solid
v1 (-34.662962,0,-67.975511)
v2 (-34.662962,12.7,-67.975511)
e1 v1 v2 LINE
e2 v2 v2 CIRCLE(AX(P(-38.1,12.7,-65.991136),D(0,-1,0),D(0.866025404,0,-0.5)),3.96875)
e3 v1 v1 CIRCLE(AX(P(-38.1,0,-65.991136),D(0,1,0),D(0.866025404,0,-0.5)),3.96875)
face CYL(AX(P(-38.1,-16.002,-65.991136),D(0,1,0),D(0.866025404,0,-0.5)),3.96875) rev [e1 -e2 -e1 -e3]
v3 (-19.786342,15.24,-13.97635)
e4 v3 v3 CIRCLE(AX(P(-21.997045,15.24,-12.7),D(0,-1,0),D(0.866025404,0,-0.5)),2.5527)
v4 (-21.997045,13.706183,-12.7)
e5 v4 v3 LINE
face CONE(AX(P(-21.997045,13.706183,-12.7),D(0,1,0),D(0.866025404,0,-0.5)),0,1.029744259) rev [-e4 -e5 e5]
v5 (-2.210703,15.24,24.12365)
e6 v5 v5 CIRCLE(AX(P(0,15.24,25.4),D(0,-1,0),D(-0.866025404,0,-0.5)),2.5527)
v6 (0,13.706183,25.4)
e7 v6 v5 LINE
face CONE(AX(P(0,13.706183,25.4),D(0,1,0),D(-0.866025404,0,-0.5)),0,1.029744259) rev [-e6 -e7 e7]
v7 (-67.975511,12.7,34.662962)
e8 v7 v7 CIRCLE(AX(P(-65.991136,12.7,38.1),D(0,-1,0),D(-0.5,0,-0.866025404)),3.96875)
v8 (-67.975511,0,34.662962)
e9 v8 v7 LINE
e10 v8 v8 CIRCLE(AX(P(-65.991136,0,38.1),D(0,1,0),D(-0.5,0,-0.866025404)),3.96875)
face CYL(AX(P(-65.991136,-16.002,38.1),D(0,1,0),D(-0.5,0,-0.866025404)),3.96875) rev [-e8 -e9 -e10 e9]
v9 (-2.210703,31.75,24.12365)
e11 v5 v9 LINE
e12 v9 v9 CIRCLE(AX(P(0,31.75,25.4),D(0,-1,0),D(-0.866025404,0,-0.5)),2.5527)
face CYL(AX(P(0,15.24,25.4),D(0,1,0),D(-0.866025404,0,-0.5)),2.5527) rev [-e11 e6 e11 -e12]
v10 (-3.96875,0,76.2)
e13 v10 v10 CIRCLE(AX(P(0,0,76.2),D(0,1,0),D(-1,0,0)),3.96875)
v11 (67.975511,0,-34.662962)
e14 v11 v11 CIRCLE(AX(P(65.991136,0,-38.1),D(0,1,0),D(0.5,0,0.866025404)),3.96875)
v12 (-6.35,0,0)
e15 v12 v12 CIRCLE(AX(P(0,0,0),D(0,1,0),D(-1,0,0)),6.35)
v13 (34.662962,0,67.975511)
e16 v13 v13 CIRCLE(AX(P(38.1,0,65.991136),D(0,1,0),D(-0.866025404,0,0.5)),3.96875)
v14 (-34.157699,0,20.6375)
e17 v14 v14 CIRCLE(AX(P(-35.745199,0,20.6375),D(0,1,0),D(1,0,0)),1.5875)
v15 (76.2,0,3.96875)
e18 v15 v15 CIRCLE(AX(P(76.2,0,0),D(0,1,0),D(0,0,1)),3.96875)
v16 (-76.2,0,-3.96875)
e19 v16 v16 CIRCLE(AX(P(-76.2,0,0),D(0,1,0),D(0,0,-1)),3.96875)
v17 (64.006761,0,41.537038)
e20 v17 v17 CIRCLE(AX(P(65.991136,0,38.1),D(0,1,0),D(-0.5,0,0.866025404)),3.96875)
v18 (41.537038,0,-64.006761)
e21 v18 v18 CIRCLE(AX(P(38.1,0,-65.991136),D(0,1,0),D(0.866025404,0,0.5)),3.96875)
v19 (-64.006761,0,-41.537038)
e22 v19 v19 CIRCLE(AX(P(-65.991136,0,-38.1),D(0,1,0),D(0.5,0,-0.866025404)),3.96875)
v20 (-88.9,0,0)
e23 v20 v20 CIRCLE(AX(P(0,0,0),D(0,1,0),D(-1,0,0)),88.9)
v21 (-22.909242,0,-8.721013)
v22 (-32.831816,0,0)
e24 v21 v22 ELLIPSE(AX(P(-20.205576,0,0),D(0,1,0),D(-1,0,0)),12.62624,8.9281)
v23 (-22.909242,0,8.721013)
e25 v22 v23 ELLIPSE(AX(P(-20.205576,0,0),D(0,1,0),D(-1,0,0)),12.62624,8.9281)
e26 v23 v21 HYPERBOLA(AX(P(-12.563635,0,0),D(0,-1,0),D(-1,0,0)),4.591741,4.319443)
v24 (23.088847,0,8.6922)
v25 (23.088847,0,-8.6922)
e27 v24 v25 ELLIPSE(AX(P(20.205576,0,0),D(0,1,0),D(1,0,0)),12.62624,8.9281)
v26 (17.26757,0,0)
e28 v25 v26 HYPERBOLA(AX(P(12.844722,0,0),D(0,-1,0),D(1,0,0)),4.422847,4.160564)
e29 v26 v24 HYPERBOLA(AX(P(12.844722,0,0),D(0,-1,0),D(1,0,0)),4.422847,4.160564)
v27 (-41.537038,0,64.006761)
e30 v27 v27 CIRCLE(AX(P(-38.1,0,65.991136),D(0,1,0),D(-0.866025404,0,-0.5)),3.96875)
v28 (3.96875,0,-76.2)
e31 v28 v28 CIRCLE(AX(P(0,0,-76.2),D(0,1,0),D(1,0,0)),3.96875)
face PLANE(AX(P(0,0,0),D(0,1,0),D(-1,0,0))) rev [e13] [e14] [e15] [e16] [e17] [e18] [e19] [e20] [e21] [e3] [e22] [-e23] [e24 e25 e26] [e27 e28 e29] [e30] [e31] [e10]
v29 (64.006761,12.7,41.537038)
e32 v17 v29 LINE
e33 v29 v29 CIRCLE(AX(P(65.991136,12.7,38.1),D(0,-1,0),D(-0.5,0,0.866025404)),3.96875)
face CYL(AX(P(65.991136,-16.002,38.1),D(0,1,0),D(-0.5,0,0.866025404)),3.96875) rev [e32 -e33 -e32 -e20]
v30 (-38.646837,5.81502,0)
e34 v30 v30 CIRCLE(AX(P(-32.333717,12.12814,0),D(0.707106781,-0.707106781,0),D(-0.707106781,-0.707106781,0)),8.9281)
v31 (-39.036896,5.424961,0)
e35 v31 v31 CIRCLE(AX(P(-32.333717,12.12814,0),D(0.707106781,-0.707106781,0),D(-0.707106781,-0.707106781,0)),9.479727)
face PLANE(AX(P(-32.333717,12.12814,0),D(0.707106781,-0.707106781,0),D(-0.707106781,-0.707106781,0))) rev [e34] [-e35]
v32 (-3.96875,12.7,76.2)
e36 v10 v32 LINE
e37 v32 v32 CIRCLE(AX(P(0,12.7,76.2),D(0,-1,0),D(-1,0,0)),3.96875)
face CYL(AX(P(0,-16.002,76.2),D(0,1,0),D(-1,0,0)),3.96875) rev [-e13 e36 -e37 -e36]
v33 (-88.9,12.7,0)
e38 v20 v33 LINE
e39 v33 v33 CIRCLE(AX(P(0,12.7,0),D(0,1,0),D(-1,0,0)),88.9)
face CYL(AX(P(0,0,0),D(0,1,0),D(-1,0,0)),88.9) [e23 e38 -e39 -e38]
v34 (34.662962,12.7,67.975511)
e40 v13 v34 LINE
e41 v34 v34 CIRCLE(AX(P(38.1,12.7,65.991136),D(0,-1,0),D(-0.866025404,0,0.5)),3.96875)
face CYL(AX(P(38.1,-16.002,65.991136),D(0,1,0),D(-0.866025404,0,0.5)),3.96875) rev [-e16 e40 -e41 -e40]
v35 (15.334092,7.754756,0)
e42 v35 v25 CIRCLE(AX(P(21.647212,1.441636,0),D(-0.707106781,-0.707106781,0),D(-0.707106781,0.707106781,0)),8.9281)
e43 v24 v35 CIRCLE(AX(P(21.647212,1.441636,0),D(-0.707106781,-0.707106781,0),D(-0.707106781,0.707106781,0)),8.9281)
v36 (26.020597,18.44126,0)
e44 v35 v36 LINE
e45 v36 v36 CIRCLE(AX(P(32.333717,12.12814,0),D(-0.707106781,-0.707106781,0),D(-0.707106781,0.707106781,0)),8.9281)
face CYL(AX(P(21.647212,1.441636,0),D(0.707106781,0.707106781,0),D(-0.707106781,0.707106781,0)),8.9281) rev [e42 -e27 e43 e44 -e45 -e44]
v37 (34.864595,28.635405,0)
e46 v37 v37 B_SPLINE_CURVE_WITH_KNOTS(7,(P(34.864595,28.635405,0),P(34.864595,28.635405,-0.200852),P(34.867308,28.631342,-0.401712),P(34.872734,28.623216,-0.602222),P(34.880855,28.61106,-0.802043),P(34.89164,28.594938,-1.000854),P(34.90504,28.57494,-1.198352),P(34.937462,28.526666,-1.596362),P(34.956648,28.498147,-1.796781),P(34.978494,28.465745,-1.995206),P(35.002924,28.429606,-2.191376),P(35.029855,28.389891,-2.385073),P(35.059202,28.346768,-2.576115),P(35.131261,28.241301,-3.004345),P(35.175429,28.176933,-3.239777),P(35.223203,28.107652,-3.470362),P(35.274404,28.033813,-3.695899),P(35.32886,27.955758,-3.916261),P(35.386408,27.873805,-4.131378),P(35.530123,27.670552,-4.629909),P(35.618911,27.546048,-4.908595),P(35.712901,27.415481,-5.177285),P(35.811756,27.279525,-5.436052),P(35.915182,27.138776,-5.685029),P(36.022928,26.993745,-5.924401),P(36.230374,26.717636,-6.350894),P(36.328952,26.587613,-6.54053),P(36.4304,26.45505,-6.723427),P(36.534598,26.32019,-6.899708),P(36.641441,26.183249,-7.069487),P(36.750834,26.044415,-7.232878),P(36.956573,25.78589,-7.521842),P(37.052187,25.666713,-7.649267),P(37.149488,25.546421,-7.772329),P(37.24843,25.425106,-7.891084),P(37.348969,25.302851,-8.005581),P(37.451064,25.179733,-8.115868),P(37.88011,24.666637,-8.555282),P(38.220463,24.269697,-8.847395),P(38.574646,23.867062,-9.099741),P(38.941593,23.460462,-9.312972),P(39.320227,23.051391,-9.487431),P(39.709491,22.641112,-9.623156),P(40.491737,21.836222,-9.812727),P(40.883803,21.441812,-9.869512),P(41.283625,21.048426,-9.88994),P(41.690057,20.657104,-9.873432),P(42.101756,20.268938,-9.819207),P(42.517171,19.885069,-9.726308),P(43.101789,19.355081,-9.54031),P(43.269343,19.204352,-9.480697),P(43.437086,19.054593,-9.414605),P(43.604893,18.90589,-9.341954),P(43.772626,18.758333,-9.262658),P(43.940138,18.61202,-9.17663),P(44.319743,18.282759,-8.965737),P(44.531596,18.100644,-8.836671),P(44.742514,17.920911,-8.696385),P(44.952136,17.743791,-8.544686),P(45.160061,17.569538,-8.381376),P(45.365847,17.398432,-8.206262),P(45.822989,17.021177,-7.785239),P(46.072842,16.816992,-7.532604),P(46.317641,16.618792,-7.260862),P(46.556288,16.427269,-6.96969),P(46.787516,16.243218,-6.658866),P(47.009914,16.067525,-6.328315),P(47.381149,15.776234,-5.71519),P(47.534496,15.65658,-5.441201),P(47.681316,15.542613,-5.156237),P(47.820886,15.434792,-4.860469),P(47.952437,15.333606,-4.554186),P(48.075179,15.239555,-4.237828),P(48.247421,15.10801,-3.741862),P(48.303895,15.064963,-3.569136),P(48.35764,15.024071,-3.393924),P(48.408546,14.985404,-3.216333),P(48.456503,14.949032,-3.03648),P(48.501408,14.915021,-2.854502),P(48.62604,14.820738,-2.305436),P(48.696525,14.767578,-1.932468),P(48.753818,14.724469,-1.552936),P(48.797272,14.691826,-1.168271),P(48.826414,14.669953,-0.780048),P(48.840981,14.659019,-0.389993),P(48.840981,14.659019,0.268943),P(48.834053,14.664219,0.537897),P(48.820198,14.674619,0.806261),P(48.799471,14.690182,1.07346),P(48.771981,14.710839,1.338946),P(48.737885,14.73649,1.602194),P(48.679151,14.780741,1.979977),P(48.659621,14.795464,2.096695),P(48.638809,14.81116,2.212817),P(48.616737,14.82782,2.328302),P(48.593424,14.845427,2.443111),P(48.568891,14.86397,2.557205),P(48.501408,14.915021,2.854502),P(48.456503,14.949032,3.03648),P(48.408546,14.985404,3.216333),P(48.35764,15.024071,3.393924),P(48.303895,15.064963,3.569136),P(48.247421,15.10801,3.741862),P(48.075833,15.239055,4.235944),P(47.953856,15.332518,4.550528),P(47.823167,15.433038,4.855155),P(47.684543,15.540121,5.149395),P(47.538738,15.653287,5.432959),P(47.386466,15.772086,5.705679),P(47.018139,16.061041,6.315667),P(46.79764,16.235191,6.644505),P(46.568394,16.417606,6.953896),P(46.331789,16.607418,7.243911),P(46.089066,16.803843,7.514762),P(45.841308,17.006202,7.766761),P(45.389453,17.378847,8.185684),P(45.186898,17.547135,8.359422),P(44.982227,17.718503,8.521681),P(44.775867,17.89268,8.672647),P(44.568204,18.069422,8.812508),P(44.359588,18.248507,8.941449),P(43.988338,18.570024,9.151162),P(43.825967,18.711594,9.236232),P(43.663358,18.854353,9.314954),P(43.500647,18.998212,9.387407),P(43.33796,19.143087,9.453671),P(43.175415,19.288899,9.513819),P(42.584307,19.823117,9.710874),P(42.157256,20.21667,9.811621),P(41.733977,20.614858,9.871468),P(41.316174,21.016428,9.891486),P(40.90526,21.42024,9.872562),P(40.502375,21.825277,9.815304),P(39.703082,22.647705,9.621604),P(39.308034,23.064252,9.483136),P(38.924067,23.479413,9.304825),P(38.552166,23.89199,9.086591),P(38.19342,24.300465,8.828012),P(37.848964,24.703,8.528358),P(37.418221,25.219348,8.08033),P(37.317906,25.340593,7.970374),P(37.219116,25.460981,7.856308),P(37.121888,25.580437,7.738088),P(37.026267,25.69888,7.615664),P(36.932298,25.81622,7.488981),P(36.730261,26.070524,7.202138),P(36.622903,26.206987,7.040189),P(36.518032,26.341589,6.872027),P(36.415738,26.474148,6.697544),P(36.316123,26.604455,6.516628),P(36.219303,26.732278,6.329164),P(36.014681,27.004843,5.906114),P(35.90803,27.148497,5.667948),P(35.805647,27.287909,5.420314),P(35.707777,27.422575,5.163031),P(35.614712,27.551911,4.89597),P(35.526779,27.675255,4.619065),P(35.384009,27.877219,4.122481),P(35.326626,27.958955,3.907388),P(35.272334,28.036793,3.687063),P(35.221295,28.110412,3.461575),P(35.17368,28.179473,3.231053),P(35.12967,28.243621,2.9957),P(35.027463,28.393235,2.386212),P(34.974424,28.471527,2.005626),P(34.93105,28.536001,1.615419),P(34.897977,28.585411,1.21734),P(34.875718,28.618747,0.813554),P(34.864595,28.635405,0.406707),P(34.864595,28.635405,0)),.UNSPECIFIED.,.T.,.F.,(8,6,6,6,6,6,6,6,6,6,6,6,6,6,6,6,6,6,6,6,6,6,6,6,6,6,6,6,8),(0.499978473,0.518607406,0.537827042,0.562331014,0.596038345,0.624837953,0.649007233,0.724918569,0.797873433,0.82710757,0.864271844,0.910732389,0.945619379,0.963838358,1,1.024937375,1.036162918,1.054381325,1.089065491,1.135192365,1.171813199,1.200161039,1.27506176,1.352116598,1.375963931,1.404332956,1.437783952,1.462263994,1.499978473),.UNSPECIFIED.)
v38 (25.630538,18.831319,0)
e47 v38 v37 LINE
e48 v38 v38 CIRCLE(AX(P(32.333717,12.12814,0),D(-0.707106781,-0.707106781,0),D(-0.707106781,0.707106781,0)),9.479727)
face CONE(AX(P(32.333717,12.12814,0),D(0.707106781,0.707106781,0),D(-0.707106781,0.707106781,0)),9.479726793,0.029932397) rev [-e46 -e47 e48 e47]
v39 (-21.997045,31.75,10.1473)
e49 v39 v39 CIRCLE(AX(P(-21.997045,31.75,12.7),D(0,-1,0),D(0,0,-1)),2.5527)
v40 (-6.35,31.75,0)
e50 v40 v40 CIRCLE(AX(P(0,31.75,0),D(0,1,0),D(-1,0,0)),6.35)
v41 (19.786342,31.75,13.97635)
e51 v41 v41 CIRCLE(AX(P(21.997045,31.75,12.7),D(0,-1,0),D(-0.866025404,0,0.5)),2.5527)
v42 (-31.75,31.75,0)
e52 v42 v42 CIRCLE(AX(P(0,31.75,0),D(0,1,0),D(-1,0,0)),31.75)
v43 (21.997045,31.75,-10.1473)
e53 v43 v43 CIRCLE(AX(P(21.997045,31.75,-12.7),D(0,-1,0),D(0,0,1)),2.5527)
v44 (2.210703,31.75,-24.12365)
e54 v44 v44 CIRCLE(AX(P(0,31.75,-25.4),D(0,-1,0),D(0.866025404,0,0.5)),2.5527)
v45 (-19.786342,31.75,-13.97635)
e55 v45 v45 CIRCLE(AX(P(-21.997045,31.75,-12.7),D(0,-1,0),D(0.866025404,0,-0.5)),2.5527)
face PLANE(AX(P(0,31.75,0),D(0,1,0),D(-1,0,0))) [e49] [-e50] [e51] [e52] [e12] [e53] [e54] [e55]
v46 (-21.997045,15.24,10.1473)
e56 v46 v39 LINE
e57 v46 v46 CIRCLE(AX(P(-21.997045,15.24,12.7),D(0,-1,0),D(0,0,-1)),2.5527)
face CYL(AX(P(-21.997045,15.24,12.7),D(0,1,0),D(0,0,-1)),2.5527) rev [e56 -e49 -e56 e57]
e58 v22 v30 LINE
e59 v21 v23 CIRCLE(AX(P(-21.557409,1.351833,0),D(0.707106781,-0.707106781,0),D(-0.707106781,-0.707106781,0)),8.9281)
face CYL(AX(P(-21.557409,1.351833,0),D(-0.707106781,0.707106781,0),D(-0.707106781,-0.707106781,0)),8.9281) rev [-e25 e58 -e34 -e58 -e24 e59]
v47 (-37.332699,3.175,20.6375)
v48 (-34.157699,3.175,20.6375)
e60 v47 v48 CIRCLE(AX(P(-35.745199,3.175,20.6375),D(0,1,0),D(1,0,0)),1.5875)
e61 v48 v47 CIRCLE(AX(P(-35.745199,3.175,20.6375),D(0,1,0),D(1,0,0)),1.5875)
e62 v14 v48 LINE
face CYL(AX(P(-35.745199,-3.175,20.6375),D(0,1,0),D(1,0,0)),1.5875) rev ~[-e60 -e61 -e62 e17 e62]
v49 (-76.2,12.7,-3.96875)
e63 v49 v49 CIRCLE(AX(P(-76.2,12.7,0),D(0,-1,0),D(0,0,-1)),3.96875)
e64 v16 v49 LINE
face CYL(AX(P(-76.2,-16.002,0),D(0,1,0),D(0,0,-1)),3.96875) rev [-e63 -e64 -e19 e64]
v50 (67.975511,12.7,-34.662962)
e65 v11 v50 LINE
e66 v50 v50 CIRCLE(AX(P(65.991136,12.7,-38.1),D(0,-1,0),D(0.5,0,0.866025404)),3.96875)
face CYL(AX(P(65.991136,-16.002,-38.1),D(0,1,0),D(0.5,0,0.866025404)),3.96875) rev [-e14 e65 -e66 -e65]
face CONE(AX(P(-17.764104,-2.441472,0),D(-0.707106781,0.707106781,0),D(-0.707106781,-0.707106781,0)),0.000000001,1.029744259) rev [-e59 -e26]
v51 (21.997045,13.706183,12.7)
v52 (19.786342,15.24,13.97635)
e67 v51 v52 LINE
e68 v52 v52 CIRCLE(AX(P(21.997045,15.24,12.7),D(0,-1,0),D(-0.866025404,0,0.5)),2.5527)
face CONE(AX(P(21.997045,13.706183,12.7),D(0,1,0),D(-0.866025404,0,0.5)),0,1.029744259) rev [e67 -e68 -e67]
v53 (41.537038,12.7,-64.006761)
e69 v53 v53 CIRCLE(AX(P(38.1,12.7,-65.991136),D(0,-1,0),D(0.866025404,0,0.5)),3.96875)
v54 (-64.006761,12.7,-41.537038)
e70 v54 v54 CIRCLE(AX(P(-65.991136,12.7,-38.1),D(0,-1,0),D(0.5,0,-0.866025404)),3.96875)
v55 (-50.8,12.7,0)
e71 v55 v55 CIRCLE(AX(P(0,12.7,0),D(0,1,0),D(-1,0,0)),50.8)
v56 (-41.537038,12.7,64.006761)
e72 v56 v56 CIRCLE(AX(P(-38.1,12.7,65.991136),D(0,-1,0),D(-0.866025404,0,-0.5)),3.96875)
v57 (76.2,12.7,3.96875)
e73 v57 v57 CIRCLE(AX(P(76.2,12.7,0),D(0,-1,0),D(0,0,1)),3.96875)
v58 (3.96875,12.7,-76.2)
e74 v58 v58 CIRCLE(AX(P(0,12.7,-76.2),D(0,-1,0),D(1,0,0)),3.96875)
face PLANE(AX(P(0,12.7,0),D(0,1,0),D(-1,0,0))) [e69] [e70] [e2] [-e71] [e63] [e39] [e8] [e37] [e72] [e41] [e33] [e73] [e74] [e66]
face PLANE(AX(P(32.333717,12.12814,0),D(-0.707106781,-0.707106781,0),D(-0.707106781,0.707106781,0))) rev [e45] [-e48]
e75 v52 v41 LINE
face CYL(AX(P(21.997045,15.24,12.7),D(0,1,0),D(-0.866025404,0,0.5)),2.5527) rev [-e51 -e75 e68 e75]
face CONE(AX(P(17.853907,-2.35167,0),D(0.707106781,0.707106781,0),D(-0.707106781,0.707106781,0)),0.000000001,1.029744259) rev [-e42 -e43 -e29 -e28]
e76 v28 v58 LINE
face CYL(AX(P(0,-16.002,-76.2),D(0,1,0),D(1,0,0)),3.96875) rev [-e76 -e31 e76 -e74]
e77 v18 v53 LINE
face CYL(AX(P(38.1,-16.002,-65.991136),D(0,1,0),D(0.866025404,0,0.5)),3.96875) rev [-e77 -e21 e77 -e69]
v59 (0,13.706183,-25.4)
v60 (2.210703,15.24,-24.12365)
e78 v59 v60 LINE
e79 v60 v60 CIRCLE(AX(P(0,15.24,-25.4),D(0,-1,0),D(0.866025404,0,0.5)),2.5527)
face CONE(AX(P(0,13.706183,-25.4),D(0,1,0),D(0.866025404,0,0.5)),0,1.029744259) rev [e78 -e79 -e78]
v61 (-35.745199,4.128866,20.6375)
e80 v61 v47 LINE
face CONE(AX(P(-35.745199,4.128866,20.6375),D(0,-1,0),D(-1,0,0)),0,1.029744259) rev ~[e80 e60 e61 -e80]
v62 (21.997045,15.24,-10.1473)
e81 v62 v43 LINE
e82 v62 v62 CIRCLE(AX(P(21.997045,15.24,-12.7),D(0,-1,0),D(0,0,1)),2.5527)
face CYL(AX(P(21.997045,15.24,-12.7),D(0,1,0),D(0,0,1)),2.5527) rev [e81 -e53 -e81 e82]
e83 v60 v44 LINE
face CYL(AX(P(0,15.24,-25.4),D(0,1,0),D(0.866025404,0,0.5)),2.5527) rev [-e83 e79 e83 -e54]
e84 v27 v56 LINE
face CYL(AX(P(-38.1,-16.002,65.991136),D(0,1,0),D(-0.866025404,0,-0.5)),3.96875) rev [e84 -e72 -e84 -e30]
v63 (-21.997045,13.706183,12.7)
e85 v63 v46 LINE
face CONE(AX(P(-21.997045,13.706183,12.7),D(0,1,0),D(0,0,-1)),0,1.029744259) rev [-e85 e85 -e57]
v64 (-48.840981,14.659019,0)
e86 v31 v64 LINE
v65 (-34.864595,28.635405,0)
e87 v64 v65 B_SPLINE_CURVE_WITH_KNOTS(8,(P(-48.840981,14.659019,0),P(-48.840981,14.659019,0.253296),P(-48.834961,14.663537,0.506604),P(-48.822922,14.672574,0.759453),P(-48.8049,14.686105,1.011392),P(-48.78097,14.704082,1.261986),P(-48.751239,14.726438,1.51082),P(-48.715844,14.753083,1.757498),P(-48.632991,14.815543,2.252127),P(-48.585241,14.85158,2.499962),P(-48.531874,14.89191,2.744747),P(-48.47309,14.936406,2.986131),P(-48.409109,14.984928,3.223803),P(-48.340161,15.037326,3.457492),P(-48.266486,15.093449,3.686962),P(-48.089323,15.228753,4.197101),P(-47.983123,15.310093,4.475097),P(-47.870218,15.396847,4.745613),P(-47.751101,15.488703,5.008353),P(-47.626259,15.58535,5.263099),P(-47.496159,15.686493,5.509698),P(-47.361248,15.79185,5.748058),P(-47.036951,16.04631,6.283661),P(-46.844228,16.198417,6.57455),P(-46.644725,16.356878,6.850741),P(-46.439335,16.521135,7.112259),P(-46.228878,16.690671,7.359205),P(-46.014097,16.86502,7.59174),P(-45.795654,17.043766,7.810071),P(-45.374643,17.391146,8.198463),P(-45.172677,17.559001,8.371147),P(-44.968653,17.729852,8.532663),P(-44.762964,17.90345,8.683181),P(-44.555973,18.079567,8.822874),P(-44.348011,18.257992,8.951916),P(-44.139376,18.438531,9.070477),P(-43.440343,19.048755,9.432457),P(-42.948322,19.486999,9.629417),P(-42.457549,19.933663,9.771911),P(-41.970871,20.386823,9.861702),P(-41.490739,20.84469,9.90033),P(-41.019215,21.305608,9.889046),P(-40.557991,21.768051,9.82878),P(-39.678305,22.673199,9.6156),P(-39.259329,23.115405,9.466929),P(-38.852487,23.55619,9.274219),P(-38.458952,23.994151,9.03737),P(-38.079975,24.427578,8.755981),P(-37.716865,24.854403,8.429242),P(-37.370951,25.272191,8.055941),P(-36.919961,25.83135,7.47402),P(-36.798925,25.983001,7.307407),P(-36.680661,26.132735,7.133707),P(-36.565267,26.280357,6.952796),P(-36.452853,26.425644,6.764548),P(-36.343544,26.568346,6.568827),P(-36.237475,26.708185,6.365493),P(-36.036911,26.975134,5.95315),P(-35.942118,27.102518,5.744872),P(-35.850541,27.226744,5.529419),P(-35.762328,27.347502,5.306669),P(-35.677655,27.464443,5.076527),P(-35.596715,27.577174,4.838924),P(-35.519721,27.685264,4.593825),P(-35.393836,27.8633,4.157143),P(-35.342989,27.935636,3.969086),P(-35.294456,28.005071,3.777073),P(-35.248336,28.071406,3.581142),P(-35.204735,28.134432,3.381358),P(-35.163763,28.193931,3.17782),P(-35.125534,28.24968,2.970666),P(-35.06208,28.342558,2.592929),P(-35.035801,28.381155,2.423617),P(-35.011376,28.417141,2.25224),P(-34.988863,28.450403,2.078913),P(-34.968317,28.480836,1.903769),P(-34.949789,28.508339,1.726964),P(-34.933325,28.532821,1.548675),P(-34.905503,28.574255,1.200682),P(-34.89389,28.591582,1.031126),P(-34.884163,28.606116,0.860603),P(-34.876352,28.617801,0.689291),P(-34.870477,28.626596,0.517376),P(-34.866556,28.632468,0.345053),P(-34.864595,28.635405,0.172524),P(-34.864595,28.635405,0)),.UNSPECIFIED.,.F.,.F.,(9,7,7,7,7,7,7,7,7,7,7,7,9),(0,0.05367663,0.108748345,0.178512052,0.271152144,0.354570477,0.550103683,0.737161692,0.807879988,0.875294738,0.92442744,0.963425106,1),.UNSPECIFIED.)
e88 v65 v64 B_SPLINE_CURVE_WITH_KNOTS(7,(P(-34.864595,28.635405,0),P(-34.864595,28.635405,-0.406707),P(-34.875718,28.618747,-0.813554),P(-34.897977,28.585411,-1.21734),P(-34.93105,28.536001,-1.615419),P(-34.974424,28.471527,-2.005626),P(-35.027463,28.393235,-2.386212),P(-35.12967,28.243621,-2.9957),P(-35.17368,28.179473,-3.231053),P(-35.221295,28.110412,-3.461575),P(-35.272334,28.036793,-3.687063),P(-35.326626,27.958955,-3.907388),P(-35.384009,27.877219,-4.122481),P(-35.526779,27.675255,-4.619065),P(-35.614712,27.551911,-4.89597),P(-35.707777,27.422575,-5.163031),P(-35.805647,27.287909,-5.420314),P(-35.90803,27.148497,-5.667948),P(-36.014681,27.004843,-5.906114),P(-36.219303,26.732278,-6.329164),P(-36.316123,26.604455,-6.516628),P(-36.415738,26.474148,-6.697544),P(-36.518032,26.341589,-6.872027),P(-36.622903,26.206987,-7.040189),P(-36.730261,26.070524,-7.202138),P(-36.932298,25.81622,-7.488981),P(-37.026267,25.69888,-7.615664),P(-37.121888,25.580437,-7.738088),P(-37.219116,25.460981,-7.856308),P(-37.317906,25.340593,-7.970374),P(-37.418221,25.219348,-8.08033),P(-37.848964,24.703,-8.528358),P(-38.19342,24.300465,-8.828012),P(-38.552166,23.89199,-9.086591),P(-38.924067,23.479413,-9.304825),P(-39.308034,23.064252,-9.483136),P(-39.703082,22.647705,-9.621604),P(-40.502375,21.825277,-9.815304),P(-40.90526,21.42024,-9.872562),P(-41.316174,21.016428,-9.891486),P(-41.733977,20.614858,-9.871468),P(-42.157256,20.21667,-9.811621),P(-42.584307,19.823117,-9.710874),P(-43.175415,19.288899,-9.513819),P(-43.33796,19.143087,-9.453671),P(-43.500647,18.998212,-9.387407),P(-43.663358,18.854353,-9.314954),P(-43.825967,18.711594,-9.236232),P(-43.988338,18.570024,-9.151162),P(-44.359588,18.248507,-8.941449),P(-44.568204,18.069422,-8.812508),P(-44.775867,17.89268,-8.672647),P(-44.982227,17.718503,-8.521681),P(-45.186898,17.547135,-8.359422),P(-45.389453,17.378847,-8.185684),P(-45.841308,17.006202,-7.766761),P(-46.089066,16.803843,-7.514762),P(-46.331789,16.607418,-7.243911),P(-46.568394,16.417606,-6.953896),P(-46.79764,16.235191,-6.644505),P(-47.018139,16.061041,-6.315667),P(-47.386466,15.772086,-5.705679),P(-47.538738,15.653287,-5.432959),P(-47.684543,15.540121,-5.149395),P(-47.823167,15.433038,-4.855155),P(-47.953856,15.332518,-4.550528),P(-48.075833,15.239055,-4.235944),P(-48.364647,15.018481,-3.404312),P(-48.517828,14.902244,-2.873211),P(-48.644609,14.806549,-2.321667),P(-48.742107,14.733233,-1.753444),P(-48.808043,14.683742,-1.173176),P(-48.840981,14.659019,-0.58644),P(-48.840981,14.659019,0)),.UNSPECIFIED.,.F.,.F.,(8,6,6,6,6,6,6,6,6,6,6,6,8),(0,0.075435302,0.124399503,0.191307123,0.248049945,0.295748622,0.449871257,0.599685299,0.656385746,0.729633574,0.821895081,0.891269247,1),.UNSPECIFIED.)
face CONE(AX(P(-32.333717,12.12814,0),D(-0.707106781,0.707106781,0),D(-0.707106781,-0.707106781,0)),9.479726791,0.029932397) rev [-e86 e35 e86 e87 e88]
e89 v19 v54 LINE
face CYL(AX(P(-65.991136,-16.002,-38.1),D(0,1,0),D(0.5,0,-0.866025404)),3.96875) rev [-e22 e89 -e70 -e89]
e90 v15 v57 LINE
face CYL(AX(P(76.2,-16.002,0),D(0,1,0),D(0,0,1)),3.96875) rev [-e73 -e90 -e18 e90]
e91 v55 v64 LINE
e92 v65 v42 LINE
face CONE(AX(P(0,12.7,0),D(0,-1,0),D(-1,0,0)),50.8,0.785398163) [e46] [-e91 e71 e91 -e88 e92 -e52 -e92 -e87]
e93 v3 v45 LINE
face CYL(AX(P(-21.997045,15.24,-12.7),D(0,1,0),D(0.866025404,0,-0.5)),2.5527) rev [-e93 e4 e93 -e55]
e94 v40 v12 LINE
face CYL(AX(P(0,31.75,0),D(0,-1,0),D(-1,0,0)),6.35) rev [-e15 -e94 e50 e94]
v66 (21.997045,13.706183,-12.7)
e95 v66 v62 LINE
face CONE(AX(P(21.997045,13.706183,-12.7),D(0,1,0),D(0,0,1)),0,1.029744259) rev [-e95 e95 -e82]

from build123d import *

# Parameters (mm, degrees)
CIRPATTERN1_COUNT                = 12
CIRPATTERN2_COUNT                = 6
F_1_8_0_125_DIAMETER_HOLE1_D     = 3.175
F_1_8_0_125_DIAMETER_HOLE1_DEPTH = 3.175
F_1_8_0_125_DIAMETER_HOLE1_TIP   = 0.953866233


with BuildPart() as part:
    # Sketch1 → Revolve1 (revolve)
    with BuildSketch(Plane.XY):
        Polygon((-6.35, 0), (-88.9, 0), (-88.9, 12.7), (-50.8, 12.7), (-31.75, 31.75), (-6.35, 31.75), align=None)
    revolve(axis=Axis((0, 0, 0), (0, 1, 0)))

    # Sketch3 → 5/16 (0.3125) Diameter Hole1 (revolve, cut)
    with BuildSketch(Plane(origin=(76.2, 12.7, 0), x_dir=(0, 0, 1), z_dir=(1, 0, 0))):
        Polygon((0, 0), (0, 31.086665582), (3.96875, 28.702), (3.96875, 0), align=None)
    f_5_16_0_3125_diameter_hole1 = revolve(axis=Axis((76.2, 19.05, 0), (0, -1, 0)), mode=Mode.SUBTRACT)

    # CirPattern1: 5/16 (0.3125) Diameter Hole1 ×12 about axis
    cirpattern1_axis = Axis((0, 0, 0), (0, 1, 0))
    for i in range(1, CIRPATTERN1_COUNT):
        add(f_5_16_0_3125_diameter_hole1.rotate(cirpattern1_axis, i * 360 / CIRPATTERN1_COUNT), mode=Mode.SUBTRACT)

    # Sketch5 → 1/2 NPT Tapped Hole1 (revolve, cut)
    with BuildSketch(Plane(origin=(41.852788136, 21.647211864, 0), x_dir=(-0.707106781, 0.707106781, 0), z_dir=(0, 0, 1))):
        Polygon((0, 0), (0, 33.939543693), (8.9281, 28.575), (8.9281, 13.462), (9.479726792, 13.462), (9.8827971, 0), align=None)
    revolve(axis=Axis((46.342916197, 26.137339924, 0), (-0.707106781, -0.707106781, 0)), mode=Mode.SUBTRACT)

    # Sketch7 → 1/2 NPT Tapped Hole2 (revolve, cut)
    with BuildSketch(Plane(origin=(-41.852788136, 21.647211864, 0), x_dir=(-0.707106781, -0.707106781, 0), z_dir=(0, 0, 1))):
        Polygon((0, 0), (0, 34.066543693), (8.9281, 28.702), (8.9281, 13.462), (9.479726792, 13.462), (9.8827971, 0), align=None)
    revolve(axis=Axis((-46.342916197, 26.137339924, 0), (0.707106781, -0.707106781, 0)), mode=Mode.SUBTRACT)

    # Sketch9 → 1/4-20 Tapped Hole1 (revolve, cut)
    with BuildSketch(Plane(origin=(21.997045256, 31.75, -12.7), x_dir=(0, 0, 1), z_dir=(1, 0, 0))):
        Polygon((0, 0), (0, 18.043816902), (2.5527, 16.51), (2.5527, 0), align=None)
    f_1_4_20_tapped_hole1 = revolve(axis=Axis((21.997045256, 38.1, -12.7), (0, -1, 0)), mode=Mode.SUBTRACT)

    # CirPattern2: 1/4-20 Tapped Hole1 ×6 about axis
    cirpattern2_axis = Axis((0, 0, 0), (0, 1, 0))
    for i in range(1, CIRPATTERN2_COUNT):
        add(f_1_4_20_tapped_hole1.rotate(cirpattern2_axis, i * 360 / CIRPATTERN2_COUNT), mode=Mode.SUBTRACT)

    # 1/8 (0.125) Diameter Hole1
    with Locations(Plane(origin=(0, 0, 0), x_dir=(-1, 0, 0), z_dir=(0, -1, 0))):
        with Locations((35.745198541, -20.6375)):
            Hole(F_1_8_0_125_DIAMETER_HOLE1_D / 2, depth=F_1_8_0_125_DIAMETER_HOLE1_DEPTH)
            with Locations((0, 0, -(F_1_8_0_125_DIAMETER_HOLE1_DEPTH + F_1_8_0_125_DIAMETER_HOLE1_TIP / 2))):  # 118° drill point
                Cone(0, F_1_8_0_125_DIAMETER_HOLE1_D / 2, F_1_8_0_125_DIAMETER_HOLE1_TIP, mode=Mode.SUBTRACT)


solid = part.part
